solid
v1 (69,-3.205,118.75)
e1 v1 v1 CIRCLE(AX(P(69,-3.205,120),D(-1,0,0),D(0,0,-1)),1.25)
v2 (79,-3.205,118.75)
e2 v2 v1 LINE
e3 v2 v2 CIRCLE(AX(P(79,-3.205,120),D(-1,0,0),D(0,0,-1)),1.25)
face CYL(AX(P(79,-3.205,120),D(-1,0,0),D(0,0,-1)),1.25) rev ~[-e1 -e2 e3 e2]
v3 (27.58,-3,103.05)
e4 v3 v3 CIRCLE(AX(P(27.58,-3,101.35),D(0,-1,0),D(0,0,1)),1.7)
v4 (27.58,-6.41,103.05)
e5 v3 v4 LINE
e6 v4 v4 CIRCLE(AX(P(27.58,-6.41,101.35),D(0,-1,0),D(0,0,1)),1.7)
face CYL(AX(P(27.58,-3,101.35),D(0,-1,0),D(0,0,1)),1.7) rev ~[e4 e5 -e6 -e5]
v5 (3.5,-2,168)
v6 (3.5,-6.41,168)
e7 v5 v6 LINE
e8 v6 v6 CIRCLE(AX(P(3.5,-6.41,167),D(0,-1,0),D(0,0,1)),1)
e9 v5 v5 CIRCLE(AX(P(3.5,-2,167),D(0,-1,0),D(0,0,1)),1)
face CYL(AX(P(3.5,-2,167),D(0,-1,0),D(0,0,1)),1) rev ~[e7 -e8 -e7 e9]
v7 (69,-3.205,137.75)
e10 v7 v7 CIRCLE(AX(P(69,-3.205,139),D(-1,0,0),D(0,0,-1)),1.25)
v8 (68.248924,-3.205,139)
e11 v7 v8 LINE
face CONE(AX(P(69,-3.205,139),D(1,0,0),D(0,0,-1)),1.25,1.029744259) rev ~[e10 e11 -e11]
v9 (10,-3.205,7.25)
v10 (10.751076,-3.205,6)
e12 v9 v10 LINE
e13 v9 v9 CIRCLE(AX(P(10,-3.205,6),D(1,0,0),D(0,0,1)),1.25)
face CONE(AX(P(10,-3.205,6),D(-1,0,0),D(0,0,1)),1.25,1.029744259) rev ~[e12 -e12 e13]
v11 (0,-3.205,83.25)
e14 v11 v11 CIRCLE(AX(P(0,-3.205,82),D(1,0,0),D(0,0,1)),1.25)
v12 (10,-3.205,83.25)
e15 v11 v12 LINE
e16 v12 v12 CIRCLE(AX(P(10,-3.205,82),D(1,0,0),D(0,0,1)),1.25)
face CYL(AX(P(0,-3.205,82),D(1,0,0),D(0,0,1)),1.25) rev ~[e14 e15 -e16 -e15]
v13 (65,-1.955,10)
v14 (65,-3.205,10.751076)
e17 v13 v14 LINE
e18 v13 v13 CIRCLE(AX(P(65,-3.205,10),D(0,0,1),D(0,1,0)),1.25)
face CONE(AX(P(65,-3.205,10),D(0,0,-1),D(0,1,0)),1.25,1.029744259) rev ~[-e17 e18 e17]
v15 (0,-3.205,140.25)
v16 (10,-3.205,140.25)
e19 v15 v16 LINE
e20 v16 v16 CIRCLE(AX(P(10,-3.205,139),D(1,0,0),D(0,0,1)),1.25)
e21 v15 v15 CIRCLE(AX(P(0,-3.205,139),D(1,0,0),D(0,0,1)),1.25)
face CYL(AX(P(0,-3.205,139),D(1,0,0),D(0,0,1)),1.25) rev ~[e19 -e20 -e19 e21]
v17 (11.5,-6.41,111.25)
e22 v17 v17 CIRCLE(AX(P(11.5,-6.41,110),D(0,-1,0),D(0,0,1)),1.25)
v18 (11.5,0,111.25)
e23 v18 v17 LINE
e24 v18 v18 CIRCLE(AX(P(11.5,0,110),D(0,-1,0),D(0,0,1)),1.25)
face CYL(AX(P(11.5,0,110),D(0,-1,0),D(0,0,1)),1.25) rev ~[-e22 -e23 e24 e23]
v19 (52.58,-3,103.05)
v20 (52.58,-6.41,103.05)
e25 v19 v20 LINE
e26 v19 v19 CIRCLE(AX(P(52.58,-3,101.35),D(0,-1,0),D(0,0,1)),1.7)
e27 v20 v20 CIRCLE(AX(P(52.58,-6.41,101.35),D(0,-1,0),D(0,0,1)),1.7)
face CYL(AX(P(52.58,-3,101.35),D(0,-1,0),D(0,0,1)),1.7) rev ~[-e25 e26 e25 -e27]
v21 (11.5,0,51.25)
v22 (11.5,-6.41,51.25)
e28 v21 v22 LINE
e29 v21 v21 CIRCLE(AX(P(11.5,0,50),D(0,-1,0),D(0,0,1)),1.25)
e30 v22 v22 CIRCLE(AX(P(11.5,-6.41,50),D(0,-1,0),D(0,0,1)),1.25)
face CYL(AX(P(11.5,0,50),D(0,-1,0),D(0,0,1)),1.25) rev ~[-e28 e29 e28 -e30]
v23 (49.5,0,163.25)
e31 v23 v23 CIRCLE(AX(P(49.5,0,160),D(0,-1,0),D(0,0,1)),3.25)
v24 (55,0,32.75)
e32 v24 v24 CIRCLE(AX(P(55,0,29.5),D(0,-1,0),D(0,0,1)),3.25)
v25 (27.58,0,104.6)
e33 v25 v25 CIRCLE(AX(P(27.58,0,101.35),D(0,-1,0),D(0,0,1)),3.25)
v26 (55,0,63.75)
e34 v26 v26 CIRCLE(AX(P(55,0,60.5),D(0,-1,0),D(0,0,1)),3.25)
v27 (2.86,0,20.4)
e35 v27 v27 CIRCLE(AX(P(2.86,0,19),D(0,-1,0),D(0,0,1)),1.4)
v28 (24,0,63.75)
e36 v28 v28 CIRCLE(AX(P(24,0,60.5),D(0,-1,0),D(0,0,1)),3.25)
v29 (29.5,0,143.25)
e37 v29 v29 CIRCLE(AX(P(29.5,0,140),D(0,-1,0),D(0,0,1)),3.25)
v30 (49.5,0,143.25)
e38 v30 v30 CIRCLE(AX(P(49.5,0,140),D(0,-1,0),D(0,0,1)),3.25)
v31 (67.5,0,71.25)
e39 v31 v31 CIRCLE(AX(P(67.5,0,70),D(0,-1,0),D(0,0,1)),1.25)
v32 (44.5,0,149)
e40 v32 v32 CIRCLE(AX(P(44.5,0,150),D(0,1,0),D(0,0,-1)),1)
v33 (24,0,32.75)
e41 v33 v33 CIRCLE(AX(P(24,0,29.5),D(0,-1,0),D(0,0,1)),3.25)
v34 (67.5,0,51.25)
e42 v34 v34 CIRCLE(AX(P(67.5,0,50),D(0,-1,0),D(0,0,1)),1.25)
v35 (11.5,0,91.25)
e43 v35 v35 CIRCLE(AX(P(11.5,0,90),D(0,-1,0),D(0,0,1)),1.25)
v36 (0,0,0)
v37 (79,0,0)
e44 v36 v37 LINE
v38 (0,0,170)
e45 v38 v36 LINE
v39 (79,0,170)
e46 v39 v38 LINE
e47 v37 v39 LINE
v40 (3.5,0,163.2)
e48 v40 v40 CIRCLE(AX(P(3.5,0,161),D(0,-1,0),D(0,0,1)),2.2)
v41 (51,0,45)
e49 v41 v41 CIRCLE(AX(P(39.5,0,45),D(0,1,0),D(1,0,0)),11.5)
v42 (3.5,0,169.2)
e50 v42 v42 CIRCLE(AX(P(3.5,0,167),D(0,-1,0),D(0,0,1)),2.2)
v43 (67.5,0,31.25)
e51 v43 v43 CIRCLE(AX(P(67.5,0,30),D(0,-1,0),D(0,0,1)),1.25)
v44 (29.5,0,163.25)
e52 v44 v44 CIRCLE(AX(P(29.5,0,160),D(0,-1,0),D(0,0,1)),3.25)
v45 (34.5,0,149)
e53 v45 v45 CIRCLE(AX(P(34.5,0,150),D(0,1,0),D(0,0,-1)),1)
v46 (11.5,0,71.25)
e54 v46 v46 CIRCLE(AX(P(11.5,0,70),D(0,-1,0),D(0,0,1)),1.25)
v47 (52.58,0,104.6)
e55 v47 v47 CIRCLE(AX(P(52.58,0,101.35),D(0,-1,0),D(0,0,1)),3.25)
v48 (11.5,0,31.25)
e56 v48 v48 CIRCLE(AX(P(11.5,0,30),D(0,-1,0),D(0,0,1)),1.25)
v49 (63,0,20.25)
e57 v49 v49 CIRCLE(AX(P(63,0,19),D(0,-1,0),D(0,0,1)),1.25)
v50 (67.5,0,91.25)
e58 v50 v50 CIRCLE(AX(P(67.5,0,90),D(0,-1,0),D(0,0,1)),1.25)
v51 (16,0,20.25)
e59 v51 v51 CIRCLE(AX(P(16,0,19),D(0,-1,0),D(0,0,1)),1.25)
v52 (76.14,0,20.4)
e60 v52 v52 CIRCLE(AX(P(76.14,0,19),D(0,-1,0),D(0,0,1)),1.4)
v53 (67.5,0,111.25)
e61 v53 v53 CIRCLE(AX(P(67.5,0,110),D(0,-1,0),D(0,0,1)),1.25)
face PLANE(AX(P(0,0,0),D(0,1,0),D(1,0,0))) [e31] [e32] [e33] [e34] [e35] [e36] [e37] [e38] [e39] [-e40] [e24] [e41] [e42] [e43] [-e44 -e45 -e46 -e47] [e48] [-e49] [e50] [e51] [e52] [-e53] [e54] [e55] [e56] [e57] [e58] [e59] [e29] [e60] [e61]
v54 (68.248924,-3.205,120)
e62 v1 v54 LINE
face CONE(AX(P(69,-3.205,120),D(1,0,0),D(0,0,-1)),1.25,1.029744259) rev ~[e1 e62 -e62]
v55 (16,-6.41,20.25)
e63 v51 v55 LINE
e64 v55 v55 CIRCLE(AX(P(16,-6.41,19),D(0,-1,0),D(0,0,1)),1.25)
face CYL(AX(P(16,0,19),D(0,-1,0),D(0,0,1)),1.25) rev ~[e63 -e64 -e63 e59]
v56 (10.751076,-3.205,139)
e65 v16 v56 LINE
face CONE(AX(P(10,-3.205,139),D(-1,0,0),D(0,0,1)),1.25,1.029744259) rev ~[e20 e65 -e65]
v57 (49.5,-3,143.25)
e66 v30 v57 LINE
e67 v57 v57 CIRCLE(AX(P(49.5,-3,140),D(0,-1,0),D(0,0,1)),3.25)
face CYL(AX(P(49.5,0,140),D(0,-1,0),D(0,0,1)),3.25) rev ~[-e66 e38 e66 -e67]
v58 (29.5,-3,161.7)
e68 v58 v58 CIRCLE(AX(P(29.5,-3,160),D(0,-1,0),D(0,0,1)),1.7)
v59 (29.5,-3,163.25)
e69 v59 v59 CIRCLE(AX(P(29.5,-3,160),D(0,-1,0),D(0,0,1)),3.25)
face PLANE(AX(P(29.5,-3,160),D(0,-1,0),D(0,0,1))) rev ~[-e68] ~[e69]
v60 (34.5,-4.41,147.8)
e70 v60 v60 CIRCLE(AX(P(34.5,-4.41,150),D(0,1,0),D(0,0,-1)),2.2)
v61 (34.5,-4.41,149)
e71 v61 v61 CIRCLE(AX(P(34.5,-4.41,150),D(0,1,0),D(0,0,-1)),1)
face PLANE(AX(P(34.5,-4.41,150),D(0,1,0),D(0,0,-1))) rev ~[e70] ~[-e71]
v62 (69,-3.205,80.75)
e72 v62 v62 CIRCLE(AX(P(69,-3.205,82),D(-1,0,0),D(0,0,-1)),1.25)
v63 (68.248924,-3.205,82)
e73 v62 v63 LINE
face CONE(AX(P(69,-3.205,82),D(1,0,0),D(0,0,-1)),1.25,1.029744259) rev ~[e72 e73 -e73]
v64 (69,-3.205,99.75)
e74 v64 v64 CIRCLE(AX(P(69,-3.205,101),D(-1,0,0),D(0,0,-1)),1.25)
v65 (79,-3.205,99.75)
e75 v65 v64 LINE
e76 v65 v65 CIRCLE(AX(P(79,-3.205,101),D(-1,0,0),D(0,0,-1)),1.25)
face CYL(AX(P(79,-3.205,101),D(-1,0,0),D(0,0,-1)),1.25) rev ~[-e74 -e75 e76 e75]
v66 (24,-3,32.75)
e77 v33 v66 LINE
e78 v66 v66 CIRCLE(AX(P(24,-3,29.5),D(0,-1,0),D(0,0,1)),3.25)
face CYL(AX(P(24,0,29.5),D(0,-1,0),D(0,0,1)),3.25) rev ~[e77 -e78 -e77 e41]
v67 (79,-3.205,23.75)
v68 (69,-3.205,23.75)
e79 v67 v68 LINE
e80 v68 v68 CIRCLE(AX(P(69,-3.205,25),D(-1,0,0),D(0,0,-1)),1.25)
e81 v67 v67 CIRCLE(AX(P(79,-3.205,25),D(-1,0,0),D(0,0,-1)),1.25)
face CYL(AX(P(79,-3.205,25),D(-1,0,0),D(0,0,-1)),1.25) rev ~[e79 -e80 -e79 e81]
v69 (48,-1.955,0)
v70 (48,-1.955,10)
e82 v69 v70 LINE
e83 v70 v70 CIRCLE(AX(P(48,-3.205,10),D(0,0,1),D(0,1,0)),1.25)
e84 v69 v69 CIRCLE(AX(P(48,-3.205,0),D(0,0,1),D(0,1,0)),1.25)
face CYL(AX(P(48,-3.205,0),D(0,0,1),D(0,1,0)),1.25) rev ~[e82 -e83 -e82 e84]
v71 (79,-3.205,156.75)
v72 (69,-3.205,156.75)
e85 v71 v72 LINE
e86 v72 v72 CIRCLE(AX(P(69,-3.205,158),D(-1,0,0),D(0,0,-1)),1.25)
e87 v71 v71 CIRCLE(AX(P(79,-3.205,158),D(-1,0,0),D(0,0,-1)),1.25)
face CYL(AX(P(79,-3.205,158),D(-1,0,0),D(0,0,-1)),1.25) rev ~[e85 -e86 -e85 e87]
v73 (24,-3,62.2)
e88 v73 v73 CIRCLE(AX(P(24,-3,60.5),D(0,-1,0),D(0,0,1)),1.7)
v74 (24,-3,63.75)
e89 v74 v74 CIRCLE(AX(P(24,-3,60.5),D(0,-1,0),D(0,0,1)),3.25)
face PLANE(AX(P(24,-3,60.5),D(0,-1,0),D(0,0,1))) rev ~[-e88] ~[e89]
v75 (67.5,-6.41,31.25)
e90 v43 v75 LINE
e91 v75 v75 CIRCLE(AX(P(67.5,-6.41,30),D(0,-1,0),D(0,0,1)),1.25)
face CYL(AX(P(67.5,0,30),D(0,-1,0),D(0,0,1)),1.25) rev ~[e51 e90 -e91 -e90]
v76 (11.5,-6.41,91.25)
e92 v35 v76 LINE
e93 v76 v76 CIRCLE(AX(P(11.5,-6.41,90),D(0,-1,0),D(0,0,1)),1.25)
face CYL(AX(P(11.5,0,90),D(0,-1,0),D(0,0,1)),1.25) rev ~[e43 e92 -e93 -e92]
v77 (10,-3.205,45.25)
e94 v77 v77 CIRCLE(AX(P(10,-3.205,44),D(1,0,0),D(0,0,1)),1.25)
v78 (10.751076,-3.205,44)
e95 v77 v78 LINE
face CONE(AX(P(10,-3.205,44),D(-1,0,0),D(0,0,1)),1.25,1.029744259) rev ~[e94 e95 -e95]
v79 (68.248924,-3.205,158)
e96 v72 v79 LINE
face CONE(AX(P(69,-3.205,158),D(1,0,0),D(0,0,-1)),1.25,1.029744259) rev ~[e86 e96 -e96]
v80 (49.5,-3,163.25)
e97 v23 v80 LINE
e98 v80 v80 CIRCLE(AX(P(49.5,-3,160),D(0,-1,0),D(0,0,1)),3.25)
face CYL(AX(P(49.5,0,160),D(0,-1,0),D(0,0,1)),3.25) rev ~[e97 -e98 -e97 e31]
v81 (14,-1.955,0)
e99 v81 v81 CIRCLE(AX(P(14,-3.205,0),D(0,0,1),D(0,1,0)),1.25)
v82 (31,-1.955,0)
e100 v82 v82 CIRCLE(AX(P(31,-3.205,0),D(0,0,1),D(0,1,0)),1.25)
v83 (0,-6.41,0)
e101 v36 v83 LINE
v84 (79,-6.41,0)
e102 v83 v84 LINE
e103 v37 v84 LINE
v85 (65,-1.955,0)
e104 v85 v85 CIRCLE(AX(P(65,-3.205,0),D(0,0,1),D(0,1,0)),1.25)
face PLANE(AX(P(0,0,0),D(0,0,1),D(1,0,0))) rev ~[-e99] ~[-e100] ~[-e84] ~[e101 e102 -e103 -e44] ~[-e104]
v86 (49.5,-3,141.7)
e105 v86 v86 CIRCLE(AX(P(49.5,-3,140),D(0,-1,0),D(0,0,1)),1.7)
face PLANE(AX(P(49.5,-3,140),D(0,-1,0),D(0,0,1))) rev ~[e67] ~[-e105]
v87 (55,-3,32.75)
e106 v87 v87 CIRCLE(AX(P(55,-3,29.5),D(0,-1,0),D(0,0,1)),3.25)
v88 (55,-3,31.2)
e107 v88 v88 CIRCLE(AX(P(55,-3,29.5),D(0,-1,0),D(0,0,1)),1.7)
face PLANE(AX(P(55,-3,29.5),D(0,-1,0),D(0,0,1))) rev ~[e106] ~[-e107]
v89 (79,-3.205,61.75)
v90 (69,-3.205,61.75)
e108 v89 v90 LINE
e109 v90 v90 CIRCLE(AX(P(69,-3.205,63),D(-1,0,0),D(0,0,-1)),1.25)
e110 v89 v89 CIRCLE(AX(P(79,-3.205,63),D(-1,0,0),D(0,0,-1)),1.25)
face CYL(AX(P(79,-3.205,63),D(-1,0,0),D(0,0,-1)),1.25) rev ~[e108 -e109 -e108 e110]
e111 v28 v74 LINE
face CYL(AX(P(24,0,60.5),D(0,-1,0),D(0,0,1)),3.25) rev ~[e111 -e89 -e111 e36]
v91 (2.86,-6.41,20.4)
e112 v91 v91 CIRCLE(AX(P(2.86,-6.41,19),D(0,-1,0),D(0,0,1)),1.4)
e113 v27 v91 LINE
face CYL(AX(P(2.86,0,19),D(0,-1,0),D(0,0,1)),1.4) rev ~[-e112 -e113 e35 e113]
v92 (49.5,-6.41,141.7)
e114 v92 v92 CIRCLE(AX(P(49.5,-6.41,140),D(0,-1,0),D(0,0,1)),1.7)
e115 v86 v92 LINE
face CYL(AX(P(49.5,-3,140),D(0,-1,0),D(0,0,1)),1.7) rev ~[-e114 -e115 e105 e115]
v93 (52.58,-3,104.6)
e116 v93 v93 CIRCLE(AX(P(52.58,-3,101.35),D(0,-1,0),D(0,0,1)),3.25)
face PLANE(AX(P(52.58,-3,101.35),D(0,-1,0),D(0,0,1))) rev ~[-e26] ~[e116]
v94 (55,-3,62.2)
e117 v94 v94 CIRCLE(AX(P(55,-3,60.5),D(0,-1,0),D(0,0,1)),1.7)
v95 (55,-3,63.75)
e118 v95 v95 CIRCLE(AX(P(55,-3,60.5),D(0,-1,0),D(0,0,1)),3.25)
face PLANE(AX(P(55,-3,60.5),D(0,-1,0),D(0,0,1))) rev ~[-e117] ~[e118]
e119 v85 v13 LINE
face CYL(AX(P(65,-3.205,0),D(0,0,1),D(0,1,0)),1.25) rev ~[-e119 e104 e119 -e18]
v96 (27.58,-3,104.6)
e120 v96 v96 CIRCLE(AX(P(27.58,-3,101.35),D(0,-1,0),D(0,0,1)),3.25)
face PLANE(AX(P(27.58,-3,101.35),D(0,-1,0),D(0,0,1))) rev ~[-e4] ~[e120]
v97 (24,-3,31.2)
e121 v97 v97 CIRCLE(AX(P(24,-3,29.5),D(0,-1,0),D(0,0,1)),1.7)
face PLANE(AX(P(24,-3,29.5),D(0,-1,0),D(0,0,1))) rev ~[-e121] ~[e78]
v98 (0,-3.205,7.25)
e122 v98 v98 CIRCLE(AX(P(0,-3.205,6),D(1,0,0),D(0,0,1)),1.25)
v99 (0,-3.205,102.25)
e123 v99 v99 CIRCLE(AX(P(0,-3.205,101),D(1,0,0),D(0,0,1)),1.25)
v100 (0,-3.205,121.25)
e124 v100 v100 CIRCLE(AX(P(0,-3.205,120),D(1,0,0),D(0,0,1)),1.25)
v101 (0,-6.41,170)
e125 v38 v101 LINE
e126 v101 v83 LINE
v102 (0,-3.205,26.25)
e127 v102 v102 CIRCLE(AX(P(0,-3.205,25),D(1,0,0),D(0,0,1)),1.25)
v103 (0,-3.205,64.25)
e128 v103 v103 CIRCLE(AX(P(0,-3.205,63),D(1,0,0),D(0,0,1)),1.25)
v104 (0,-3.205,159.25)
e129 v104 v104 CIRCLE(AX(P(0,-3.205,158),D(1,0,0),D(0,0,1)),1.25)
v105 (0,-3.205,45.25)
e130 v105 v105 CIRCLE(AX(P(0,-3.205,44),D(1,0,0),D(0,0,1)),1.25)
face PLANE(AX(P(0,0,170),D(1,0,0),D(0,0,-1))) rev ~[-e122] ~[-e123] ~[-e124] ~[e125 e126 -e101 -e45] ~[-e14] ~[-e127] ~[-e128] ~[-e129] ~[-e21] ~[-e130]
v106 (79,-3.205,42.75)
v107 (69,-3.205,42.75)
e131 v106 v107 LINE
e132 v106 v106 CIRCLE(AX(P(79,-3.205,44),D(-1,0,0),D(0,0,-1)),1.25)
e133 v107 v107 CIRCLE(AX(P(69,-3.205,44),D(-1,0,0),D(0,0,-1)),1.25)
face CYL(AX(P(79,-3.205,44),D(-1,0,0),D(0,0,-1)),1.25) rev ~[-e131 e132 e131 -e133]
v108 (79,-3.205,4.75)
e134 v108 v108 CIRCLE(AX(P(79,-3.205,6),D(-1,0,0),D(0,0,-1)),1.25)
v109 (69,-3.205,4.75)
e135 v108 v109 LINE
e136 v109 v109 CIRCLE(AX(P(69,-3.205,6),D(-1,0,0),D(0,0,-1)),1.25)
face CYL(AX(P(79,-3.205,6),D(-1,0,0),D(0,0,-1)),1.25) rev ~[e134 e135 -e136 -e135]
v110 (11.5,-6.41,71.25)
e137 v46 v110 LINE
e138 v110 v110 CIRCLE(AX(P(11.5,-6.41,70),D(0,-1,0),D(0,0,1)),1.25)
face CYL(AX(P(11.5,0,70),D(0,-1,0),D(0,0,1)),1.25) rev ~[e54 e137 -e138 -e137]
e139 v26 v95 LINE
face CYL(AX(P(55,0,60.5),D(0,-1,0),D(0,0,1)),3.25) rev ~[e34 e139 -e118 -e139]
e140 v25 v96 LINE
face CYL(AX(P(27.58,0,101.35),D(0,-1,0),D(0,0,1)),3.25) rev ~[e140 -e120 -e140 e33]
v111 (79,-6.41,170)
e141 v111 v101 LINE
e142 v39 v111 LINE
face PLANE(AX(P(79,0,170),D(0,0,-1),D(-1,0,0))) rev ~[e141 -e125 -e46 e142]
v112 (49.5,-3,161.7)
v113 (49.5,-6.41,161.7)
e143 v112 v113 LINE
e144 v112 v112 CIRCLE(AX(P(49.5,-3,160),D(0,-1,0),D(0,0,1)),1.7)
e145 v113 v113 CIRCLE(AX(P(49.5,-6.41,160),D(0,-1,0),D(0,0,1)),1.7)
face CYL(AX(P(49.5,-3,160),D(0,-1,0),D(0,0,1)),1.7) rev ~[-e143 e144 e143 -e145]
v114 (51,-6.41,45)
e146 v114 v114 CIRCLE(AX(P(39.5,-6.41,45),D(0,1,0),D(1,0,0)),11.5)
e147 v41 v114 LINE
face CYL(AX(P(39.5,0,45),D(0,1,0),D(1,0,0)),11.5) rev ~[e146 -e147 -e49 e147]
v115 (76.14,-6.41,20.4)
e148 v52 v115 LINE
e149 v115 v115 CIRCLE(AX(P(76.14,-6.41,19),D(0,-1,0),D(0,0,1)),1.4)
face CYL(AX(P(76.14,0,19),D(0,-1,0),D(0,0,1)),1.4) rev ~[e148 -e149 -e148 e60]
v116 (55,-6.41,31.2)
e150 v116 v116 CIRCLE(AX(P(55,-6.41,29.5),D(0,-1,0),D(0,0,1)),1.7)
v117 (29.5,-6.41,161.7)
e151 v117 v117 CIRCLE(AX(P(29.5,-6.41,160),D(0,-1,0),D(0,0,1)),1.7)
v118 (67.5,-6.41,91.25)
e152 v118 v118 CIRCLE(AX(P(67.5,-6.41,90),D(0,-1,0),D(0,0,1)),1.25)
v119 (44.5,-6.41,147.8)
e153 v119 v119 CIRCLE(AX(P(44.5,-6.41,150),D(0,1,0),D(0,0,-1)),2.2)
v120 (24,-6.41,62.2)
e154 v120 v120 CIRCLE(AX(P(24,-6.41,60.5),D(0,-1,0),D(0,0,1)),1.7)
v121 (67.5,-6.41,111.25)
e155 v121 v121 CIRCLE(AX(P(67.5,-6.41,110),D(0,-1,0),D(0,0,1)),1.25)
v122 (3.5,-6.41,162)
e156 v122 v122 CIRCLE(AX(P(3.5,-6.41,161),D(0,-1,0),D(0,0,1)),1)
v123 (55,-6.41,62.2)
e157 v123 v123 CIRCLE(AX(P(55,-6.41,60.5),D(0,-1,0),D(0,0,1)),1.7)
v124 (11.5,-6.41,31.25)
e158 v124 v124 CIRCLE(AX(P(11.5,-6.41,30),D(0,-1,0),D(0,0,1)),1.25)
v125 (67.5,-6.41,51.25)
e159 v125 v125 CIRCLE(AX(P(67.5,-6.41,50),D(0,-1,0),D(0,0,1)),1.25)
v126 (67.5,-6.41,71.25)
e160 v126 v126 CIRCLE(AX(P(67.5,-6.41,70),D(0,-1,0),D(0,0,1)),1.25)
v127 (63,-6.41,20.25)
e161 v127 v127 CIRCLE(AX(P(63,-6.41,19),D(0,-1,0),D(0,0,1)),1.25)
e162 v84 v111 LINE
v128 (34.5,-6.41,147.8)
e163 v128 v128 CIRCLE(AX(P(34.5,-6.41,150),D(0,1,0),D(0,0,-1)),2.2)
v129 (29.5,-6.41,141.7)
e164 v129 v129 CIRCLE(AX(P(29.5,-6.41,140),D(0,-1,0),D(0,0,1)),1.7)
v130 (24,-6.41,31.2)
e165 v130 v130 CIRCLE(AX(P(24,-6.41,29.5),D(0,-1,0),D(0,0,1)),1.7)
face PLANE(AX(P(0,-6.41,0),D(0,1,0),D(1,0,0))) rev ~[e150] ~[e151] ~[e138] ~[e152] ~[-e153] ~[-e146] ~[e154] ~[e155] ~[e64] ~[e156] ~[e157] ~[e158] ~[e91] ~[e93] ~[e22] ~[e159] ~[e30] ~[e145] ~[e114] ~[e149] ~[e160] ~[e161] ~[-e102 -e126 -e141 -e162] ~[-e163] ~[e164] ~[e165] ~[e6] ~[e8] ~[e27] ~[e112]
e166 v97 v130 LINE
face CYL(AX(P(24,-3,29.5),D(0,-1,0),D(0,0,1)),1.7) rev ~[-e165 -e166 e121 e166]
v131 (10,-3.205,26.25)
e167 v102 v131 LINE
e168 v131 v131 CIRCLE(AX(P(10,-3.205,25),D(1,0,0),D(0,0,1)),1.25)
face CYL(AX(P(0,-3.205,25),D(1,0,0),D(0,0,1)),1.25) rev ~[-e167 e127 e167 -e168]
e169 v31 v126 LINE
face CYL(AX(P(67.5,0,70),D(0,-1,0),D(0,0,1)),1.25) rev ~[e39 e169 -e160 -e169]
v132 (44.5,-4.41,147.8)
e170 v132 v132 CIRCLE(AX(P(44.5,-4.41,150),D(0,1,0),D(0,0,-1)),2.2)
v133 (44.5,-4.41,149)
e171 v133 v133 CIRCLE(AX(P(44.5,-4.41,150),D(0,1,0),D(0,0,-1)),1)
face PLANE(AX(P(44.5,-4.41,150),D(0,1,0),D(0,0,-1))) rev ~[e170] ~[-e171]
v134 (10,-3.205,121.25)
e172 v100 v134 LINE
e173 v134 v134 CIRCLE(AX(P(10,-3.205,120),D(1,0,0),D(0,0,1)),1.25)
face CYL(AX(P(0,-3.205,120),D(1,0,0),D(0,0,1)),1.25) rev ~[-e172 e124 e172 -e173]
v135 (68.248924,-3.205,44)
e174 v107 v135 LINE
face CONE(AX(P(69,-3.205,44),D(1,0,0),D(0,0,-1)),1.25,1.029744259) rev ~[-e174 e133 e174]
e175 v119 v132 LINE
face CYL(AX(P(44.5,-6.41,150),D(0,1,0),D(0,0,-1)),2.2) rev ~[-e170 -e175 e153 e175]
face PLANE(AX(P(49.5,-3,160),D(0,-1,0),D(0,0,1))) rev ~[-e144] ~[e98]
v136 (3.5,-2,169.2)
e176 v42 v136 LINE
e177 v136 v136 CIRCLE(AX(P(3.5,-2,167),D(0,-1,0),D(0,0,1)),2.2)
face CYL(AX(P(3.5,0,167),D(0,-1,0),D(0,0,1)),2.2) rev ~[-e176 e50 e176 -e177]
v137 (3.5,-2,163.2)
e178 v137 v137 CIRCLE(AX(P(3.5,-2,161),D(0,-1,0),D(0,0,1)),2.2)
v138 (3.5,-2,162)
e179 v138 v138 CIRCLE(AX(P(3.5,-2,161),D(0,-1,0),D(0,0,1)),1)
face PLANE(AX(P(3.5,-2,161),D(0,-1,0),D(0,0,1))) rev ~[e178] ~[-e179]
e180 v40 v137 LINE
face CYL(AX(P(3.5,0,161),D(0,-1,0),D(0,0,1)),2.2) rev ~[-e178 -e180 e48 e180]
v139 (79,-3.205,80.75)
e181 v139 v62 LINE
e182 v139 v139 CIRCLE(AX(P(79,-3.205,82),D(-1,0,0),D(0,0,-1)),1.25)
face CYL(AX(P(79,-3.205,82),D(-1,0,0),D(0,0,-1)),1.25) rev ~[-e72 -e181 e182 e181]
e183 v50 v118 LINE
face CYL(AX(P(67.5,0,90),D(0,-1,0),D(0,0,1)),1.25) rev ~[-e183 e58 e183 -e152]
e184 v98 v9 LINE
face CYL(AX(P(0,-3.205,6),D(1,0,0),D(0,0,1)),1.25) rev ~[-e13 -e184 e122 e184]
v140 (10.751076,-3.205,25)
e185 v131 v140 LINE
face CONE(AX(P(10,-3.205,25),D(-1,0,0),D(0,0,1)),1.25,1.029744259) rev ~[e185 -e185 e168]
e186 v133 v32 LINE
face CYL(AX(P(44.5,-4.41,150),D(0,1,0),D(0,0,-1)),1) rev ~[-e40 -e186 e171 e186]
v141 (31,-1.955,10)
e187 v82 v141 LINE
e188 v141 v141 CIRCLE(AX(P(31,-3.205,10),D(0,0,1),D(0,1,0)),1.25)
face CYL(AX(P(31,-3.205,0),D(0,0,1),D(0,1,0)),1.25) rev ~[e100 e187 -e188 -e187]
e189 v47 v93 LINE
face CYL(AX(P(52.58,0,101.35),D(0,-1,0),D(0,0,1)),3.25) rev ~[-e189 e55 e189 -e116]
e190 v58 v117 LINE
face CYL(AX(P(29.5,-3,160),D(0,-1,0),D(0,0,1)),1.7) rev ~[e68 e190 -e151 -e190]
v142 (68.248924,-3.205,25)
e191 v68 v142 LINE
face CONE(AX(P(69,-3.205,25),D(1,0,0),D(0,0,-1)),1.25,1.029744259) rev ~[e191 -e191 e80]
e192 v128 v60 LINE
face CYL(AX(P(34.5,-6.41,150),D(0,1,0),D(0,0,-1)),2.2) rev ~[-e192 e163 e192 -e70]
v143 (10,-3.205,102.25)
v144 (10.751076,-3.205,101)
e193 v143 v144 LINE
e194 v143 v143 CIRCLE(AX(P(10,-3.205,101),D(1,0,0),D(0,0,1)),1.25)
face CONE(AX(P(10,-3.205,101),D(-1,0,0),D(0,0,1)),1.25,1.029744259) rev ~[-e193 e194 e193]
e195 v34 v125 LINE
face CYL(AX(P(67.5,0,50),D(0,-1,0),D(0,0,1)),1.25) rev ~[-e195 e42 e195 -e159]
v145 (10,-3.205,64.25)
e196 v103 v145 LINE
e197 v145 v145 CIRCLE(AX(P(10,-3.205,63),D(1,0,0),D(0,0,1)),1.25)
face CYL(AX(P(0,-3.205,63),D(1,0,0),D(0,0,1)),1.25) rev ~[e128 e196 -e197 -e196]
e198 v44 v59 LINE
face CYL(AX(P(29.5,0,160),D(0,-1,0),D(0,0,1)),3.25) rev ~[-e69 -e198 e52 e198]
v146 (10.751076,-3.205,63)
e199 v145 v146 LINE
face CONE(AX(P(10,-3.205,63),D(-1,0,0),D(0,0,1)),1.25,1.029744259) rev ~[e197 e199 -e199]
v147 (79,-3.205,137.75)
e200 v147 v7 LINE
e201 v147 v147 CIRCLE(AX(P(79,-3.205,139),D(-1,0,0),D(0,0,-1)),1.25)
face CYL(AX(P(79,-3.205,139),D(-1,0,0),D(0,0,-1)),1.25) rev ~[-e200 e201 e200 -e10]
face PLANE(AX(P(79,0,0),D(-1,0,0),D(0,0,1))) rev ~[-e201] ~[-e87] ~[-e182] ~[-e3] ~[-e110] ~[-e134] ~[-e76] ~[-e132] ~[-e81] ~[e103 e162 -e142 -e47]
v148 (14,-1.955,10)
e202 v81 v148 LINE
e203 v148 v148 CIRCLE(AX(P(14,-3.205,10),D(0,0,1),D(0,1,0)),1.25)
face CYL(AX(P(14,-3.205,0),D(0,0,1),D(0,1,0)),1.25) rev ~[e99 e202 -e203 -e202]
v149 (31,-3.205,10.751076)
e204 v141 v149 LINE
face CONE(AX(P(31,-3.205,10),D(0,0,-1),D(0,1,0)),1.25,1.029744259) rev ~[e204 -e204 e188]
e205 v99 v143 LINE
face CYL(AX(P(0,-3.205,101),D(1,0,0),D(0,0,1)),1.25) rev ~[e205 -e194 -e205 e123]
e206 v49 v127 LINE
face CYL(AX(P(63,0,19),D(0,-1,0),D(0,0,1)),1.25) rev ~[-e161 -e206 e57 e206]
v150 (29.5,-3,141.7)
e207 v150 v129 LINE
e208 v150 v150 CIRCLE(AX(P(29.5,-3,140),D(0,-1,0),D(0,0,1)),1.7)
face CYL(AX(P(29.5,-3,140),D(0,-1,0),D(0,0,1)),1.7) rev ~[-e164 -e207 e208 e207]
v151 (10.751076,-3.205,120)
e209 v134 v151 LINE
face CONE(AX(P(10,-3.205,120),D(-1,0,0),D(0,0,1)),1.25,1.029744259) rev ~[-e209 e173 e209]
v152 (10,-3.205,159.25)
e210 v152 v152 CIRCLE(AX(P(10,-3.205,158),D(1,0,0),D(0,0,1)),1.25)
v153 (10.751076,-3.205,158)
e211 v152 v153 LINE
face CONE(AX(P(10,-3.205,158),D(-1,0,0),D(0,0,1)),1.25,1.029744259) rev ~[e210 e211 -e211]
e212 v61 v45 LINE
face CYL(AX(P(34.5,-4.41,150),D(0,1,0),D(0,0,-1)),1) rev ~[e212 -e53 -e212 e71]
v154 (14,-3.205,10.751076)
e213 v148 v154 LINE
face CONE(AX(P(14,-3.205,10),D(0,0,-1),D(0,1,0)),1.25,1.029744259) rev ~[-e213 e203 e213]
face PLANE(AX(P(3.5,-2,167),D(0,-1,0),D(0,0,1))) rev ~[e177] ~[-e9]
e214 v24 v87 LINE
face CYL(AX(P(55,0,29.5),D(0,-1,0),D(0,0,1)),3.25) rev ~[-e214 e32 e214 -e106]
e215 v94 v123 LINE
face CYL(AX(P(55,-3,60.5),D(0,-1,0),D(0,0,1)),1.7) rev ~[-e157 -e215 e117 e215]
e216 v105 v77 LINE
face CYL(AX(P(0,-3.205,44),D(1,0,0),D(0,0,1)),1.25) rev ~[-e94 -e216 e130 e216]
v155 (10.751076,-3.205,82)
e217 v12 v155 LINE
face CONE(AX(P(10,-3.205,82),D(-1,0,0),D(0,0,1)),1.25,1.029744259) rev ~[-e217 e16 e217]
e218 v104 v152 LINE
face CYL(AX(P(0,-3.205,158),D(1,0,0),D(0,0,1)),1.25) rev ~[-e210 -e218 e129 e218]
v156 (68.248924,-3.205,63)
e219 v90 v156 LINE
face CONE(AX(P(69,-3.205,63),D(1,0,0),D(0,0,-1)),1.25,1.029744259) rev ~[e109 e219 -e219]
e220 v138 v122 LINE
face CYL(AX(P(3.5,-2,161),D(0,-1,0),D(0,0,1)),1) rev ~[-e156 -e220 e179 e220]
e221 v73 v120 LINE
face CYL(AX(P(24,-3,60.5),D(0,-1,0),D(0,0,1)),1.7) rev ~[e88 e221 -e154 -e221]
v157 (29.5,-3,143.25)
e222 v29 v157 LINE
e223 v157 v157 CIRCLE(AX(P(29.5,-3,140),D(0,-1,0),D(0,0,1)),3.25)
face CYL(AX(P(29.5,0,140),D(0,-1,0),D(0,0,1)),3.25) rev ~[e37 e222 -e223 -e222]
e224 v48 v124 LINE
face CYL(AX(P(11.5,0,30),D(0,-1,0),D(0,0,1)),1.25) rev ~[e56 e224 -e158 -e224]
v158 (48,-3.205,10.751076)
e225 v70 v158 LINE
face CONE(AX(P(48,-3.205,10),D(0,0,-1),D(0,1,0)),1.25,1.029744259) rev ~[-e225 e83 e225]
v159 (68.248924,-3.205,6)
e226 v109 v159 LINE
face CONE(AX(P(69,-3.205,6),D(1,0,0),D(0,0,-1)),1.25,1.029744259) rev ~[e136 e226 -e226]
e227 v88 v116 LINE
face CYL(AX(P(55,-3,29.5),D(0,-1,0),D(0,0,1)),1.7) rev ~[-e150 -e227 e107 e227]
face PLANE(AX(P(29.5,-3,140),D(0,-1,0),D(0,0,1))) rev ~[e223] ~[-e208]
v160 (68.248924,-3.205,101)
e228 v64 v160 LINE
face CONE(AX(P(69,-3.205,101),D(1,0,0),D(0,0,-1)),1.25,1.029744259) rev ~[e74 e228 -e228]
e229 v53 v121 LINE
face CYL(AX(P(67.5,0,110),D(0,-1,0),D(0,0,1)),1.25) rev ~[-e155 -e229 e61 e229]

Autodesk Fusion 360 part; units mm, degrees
sketch "Sketch1" plane through (0, 0, 0) normal (0, 1, 0) x (1, 0, 0)
  line L0 (0, 0) -> (79, 0)
  line L1 (79, 0) -> (79, -170)
  line L2 (79, -170) -> (0, -170)
  line L3 (0, -170) -> (0, 0)
  line L4 (39.5, 0) -> (39.5, -169.9926) construction
  line L5 (49.5, -160) -> (29.5, -160) construction
  line L6 (29.5, -160) -> (29.5, -140) construction
  line L7 (29.5, -140) -> (49.5, -140) construction
  line L8 (49.5, -140) -> (49.5, -160) construction
  line L9 (49.5, -160) -> (29.5, -140) construction
  line L10 (29.5, -160) -> (49.5, -140) construction
  line L11 (55, -60.5) -> (24, -60.5) construction
  line L12 (24, -60.5) -> (24, -29.5) construction
  line L13 (24, -29.5) -> (55, -29.5) construction
  line L14 (55, -29.5) -> (55, -60.5) construction
  line L15 (55, -60.5) -> (24, -29.5) construction
  line L16 (24, -60.5) -> (55, -29.5) construction
  circle A0 centre (39.5, -45) radius 11.5
  point P0 (67.5, -110)
  point P1 (11.5, -110)
  point P2 (67.5, -90)
  point P3 (11.5, -90)
  point P4 (67.5, -70)
  point P5 (11.5, -70)
  point P6 (67.5, -50)
  point P7 (11.5, -50)
  point P8 (67.5, -30)
  point P9 (11.5, -30)
  point P10 (39.5, -150)
  point P11 (29.5, -140)
  point P12 (49.5, -140)
  point P13 (49.5, -160)
  point P14 (29.5, -160)
  point P15 (44.5, -150)
  point P16 (34.5, -150)
  point P17 (3.5, -167)
  point P18 (3.5, -161)
  point P19 (27.58, -101.35)
  point P20 (52.58, -101.35)
  point P21 (39.5, -45)
  point P22 (24, -29.5)
  point P23 (55, -29.5)
  point P24 (55, -60.5)
  point P25 (24, -60.5)
  point P26 (16, -19)
  point P27 (63, -19)
  point P28 (2.86, -19)
  point P29 (76.14, -19)
  dimension "d1" = 79
  dimension "d2" = 170
  dimension "d5" = 60
  dimension "d6" = 11.5
  dimension "d7" = 56
  dimension "d10" = 0
  dimension "d11" = 20
  dimension "d15" = 20
  dimension "d16" = 20
  dimension "d17" = 10
  dimension "d18" = 10
  dimension "d19" = 5
  dimension "d20" = 6
  dimension "d21" = 3.5
  dimension "d22" = 3
  dimension "d23" = 25
  dimension "d24" = 68.65
  dimension "d25" = 11.92
  dimension "d26" = 31
  dimension "d27" = 31
  dimension "d28" = 29.5
  dimension "d29" = 24
  dimension "d31" = 16
  dimension "d32" = 16
  dimension "d33" = 19
  dimension "d34" = 13.14
  dimension "d35" = 13.14
  dimension "d36" = 19
  dimension "d42" = 23
extrude "Extrude2" add sketch "Sketch1" against normal blind 6.41
hole "Hole2" at (3.5, 0, 161) direction (0, -1, 0) diameter 2 end through all counterbore diameter 4.4 counterbore depth 2
hole "Hole3" at (3.5, 0, 167) direction (0, -1, 0) diameter 2 end through all counterbore diameter 4.4 counterbore depth 2
sketch "Sketch2" plane through (0, -6.41, 0) normal (0, -1, 0) x (1, 0, 0)
  circle A0 centre (3.5, 167) radius 1
  circle A1 centre (3.5, 161) radius 1
  circle A2 centre (39.5, 45) radius 11.5
  line L0 (79, 170) -> (0, 170)
  line L1 (0, 170) -> (0, 0)
  line L2 (0, 0) -> (79, 0)
  line L3 (79, 0) -> (79, 170)
  line L4 (49.5, 140) -> (49.5, 160)
  point P0 (44.5, 150)
  point P1 (34.5, 150)
  dimension "d55" = 5
  dimension "d56" = 10
hole "Hole4" at (34.5, -6.41, 150) direction (0, 1, 0) diameter 2 end through all counterbore diameter 4.4 counterbore depth 2
hole "Hole5" at (44.5, -6.41, 150) direction (0, 1, 0) diameter 2 end through all counterbore diameter 4.4 counterbore depth 2
hole "Hole6" at (29.5, 0, 140) direction (0, -1, 0) diameter 3.4 end through all counterbore diameter 6.5 counterbore depth 3
hole "Hole7" at (49.5, 0, 140) direction (0, -1, 0) diameter 3.4 end through all counterbore diameter 6.5 counterbore depth 3
hole "Hole8" at (29.5, 0, 160) direction (0, -1, 0) diameter 3.4 end through all counterbore diameter 6.5 counterbore depth 3
hole "Hole9" at (49.5, 0, 160) direction (0, -1, 0) diameter 3.4 end through all counterbore diameter 6.5 counterbore depth 3
hole "Hole10" at (27.58, 0, 101.35) direction (0, -1, 0) diameter 3.4 end through all counterbore diameter 6.5 counterbore depth 3
hole "Hole11" at (52.58, 0, 101.35) direction (0, -1, 0) diameter 3.4 end through all counterbore diameter 6.5 counterbore depth 3
hole "Hole12" at (24, 0, 29.5) direction (0, -1, 0) diameter 3.4 end through all counterbore diameter 6.5 counterbore depth 3
hole "Hole13" at (55, 0, 29.5) direction (0, -1, 0) diameter 3.4 end through all counterbore diameter 6.5 counterbore depth 3
hole "Hole14" at (55, 0, 60.5) direction (0, -1, 0) diameter 3.4 end through all counterbore diameter 6.5 counterbore depth 3
hole "Hole15" at (24, 0, 60.5) direction (0, -1, 0) diameter 3.4 end through all counterbore diameter 6.5 counterbore depth 3
hole "Hole16" at (11.5, 0, 110) direction (0, -1, 0) diameter 2.5 end through all
hole "Hole17" at (11.5, 0, 90) direction (0, -1, 0) diameter 2.5 end through all
hole "Hole18" at (11.5, 0, 70) direction (0, -1, 0) diameter 2.5 end through all
hole "Hole19" at (11.5, 0, 50) direction (0, -1, 0) diameter 2.5 end through all
hole "Hole20" at (11.5, 0, 30) direction (0, -1, 0) diameter 2.5 end through all
hole "Hole21" at (67.5, 0, 110) direction (0, -1, 0) diameter 2.5 end through all
hole "Hole22" at (67.5, 0, 90) direction (0, -1, 0) diameter 2.5 end through all
hole "Hole23" at (67.5, 0, 70) direction (0, -1, 0) diameter 2.5 end through all
hole "Hole24" at (67.5, 0, 50) direction (0, -1, 0) diameter 2.5 end through all
hole "Hole25" at (67.5, 0, 30) direction (0, -1, 0) diameter 2.5 end through all
hole "Hole26" at (16, 0, 19) direction (0, -1, 0) diameter 2.5 end through all
hole "Hole27" at (63, 0, 19) direction (0, -1, 0) diameter 2.5 end through all
hole "Hole28" at (2.86, 0, 19) direction (0, -1, 0) diameter 2.8 end through all
hole "Hole29" at (76.14, 0, 19) direction (0, -1, 0) diameter 2.8 end through all
sketch "TopHolesSketch" plane through (0, 0, 0) normal (0, 0, -1) x (-1, 0, 0)
  line L0 (0, 0) -> (-79, 0)
  line L1 (-79, 0) -> (-79, -6.41)
  line L2 (-79, -6.41) -> (0, -6.41)
  line L3 (0, -6.41) -> (0, 0)
  line L4 (0, -3.205) -> (-79, -3.205) construction
  point P0 (-14, -3.205)
  point P1 (-31, -3.205)
  point P2 (-48, -3.205)
  point P3 (-65, -3.205)
  dimension "d159" = 14
  dimension "d162" = -17
  dimension "d163" = 0
hole "Hole30" at (14, -3.205, 0) direction (0, 0, 1) diameter 2.5 depth 10 tip angle 118
pattern_linear "R-Pattern1" count 4 spacing 17 along (1, 0, 0) of "Hole30"
sketch "Sketch4" plane through (0, 0, 0) normal (-1, 0, 0) x (0, 0, 1)
  line L0 (170, 0) -> (0, 0)
  line L1 (0, 0) -> (0, -6.41)
  line L2 (0, -6.41) -> (170, -6.41)
  line L3 (170, -6.41) -> (170, 0)
  line L4 (0, -3.205) -> (170, -3.205) construction
  point P0 (6, -3.205)
  point P1 (25, -3.205)
  point P2 (44, -3.205)
  point P3 (63, -3.205)
  point P4 (82, -3.205)
  point P5 (101, -3.205)
  point P6 (120, -3.205)
  point P7 (139, -3.205)
  point P8 (158, -3.205)
  dimension "d171" = 6
  dimension "d174" = 19
  dimension "d175" = 0
sketch "Sketch5" plane through (79, 0, 0) normal (1, 0, 0) x (0, 0, -1)
  line L0 (0, 0) -> (-170, 0)
  line L1 (-170, 0) -> (-170, -6.41)
  line L2 (-170, -6.41) -> (0, -6.41)
  line L3 (0, -6.41) -> (0, 0)
  line L4 (0, -3.205) -> (-170, -3.205) construction
  point P0 (-6, -3.205)
  point P1 (-25, -3.205)
  point P2 (-44, -3.205)
  point P3 (-63, -3.205)
  point P4 (-82, -3.205)
  point P5 (-101, -3.205)
  point P6 (-120, -3.205)
  point P7 (-139, -3.205)
  point P8 (-158, -3.205)
  dimension "d176" = 6
  dimension "d179" = -19
  dimension "d180" = 0
hole "Hole31" at (79, -3.205, 6) direction (-1, 0, 0) diameter 2.5 depth 10 tip angle 118
pattern_linear "R-Pattern2" count 1 spacing 19 along (0, -1, 0) count 9 spacing 19 along (0, 0, 1) of "Hole31"
hole "Hole32" at (0, -3.205, 6) direction (1, 0, 0) diameter 2.5 depth 10 tip angle 118
pattern_linear "R-Pattern3" count 1 spacing 0 along (0, -1, 0) count 9 spacing 19 along (0, 0, 1) of "Hole32"
